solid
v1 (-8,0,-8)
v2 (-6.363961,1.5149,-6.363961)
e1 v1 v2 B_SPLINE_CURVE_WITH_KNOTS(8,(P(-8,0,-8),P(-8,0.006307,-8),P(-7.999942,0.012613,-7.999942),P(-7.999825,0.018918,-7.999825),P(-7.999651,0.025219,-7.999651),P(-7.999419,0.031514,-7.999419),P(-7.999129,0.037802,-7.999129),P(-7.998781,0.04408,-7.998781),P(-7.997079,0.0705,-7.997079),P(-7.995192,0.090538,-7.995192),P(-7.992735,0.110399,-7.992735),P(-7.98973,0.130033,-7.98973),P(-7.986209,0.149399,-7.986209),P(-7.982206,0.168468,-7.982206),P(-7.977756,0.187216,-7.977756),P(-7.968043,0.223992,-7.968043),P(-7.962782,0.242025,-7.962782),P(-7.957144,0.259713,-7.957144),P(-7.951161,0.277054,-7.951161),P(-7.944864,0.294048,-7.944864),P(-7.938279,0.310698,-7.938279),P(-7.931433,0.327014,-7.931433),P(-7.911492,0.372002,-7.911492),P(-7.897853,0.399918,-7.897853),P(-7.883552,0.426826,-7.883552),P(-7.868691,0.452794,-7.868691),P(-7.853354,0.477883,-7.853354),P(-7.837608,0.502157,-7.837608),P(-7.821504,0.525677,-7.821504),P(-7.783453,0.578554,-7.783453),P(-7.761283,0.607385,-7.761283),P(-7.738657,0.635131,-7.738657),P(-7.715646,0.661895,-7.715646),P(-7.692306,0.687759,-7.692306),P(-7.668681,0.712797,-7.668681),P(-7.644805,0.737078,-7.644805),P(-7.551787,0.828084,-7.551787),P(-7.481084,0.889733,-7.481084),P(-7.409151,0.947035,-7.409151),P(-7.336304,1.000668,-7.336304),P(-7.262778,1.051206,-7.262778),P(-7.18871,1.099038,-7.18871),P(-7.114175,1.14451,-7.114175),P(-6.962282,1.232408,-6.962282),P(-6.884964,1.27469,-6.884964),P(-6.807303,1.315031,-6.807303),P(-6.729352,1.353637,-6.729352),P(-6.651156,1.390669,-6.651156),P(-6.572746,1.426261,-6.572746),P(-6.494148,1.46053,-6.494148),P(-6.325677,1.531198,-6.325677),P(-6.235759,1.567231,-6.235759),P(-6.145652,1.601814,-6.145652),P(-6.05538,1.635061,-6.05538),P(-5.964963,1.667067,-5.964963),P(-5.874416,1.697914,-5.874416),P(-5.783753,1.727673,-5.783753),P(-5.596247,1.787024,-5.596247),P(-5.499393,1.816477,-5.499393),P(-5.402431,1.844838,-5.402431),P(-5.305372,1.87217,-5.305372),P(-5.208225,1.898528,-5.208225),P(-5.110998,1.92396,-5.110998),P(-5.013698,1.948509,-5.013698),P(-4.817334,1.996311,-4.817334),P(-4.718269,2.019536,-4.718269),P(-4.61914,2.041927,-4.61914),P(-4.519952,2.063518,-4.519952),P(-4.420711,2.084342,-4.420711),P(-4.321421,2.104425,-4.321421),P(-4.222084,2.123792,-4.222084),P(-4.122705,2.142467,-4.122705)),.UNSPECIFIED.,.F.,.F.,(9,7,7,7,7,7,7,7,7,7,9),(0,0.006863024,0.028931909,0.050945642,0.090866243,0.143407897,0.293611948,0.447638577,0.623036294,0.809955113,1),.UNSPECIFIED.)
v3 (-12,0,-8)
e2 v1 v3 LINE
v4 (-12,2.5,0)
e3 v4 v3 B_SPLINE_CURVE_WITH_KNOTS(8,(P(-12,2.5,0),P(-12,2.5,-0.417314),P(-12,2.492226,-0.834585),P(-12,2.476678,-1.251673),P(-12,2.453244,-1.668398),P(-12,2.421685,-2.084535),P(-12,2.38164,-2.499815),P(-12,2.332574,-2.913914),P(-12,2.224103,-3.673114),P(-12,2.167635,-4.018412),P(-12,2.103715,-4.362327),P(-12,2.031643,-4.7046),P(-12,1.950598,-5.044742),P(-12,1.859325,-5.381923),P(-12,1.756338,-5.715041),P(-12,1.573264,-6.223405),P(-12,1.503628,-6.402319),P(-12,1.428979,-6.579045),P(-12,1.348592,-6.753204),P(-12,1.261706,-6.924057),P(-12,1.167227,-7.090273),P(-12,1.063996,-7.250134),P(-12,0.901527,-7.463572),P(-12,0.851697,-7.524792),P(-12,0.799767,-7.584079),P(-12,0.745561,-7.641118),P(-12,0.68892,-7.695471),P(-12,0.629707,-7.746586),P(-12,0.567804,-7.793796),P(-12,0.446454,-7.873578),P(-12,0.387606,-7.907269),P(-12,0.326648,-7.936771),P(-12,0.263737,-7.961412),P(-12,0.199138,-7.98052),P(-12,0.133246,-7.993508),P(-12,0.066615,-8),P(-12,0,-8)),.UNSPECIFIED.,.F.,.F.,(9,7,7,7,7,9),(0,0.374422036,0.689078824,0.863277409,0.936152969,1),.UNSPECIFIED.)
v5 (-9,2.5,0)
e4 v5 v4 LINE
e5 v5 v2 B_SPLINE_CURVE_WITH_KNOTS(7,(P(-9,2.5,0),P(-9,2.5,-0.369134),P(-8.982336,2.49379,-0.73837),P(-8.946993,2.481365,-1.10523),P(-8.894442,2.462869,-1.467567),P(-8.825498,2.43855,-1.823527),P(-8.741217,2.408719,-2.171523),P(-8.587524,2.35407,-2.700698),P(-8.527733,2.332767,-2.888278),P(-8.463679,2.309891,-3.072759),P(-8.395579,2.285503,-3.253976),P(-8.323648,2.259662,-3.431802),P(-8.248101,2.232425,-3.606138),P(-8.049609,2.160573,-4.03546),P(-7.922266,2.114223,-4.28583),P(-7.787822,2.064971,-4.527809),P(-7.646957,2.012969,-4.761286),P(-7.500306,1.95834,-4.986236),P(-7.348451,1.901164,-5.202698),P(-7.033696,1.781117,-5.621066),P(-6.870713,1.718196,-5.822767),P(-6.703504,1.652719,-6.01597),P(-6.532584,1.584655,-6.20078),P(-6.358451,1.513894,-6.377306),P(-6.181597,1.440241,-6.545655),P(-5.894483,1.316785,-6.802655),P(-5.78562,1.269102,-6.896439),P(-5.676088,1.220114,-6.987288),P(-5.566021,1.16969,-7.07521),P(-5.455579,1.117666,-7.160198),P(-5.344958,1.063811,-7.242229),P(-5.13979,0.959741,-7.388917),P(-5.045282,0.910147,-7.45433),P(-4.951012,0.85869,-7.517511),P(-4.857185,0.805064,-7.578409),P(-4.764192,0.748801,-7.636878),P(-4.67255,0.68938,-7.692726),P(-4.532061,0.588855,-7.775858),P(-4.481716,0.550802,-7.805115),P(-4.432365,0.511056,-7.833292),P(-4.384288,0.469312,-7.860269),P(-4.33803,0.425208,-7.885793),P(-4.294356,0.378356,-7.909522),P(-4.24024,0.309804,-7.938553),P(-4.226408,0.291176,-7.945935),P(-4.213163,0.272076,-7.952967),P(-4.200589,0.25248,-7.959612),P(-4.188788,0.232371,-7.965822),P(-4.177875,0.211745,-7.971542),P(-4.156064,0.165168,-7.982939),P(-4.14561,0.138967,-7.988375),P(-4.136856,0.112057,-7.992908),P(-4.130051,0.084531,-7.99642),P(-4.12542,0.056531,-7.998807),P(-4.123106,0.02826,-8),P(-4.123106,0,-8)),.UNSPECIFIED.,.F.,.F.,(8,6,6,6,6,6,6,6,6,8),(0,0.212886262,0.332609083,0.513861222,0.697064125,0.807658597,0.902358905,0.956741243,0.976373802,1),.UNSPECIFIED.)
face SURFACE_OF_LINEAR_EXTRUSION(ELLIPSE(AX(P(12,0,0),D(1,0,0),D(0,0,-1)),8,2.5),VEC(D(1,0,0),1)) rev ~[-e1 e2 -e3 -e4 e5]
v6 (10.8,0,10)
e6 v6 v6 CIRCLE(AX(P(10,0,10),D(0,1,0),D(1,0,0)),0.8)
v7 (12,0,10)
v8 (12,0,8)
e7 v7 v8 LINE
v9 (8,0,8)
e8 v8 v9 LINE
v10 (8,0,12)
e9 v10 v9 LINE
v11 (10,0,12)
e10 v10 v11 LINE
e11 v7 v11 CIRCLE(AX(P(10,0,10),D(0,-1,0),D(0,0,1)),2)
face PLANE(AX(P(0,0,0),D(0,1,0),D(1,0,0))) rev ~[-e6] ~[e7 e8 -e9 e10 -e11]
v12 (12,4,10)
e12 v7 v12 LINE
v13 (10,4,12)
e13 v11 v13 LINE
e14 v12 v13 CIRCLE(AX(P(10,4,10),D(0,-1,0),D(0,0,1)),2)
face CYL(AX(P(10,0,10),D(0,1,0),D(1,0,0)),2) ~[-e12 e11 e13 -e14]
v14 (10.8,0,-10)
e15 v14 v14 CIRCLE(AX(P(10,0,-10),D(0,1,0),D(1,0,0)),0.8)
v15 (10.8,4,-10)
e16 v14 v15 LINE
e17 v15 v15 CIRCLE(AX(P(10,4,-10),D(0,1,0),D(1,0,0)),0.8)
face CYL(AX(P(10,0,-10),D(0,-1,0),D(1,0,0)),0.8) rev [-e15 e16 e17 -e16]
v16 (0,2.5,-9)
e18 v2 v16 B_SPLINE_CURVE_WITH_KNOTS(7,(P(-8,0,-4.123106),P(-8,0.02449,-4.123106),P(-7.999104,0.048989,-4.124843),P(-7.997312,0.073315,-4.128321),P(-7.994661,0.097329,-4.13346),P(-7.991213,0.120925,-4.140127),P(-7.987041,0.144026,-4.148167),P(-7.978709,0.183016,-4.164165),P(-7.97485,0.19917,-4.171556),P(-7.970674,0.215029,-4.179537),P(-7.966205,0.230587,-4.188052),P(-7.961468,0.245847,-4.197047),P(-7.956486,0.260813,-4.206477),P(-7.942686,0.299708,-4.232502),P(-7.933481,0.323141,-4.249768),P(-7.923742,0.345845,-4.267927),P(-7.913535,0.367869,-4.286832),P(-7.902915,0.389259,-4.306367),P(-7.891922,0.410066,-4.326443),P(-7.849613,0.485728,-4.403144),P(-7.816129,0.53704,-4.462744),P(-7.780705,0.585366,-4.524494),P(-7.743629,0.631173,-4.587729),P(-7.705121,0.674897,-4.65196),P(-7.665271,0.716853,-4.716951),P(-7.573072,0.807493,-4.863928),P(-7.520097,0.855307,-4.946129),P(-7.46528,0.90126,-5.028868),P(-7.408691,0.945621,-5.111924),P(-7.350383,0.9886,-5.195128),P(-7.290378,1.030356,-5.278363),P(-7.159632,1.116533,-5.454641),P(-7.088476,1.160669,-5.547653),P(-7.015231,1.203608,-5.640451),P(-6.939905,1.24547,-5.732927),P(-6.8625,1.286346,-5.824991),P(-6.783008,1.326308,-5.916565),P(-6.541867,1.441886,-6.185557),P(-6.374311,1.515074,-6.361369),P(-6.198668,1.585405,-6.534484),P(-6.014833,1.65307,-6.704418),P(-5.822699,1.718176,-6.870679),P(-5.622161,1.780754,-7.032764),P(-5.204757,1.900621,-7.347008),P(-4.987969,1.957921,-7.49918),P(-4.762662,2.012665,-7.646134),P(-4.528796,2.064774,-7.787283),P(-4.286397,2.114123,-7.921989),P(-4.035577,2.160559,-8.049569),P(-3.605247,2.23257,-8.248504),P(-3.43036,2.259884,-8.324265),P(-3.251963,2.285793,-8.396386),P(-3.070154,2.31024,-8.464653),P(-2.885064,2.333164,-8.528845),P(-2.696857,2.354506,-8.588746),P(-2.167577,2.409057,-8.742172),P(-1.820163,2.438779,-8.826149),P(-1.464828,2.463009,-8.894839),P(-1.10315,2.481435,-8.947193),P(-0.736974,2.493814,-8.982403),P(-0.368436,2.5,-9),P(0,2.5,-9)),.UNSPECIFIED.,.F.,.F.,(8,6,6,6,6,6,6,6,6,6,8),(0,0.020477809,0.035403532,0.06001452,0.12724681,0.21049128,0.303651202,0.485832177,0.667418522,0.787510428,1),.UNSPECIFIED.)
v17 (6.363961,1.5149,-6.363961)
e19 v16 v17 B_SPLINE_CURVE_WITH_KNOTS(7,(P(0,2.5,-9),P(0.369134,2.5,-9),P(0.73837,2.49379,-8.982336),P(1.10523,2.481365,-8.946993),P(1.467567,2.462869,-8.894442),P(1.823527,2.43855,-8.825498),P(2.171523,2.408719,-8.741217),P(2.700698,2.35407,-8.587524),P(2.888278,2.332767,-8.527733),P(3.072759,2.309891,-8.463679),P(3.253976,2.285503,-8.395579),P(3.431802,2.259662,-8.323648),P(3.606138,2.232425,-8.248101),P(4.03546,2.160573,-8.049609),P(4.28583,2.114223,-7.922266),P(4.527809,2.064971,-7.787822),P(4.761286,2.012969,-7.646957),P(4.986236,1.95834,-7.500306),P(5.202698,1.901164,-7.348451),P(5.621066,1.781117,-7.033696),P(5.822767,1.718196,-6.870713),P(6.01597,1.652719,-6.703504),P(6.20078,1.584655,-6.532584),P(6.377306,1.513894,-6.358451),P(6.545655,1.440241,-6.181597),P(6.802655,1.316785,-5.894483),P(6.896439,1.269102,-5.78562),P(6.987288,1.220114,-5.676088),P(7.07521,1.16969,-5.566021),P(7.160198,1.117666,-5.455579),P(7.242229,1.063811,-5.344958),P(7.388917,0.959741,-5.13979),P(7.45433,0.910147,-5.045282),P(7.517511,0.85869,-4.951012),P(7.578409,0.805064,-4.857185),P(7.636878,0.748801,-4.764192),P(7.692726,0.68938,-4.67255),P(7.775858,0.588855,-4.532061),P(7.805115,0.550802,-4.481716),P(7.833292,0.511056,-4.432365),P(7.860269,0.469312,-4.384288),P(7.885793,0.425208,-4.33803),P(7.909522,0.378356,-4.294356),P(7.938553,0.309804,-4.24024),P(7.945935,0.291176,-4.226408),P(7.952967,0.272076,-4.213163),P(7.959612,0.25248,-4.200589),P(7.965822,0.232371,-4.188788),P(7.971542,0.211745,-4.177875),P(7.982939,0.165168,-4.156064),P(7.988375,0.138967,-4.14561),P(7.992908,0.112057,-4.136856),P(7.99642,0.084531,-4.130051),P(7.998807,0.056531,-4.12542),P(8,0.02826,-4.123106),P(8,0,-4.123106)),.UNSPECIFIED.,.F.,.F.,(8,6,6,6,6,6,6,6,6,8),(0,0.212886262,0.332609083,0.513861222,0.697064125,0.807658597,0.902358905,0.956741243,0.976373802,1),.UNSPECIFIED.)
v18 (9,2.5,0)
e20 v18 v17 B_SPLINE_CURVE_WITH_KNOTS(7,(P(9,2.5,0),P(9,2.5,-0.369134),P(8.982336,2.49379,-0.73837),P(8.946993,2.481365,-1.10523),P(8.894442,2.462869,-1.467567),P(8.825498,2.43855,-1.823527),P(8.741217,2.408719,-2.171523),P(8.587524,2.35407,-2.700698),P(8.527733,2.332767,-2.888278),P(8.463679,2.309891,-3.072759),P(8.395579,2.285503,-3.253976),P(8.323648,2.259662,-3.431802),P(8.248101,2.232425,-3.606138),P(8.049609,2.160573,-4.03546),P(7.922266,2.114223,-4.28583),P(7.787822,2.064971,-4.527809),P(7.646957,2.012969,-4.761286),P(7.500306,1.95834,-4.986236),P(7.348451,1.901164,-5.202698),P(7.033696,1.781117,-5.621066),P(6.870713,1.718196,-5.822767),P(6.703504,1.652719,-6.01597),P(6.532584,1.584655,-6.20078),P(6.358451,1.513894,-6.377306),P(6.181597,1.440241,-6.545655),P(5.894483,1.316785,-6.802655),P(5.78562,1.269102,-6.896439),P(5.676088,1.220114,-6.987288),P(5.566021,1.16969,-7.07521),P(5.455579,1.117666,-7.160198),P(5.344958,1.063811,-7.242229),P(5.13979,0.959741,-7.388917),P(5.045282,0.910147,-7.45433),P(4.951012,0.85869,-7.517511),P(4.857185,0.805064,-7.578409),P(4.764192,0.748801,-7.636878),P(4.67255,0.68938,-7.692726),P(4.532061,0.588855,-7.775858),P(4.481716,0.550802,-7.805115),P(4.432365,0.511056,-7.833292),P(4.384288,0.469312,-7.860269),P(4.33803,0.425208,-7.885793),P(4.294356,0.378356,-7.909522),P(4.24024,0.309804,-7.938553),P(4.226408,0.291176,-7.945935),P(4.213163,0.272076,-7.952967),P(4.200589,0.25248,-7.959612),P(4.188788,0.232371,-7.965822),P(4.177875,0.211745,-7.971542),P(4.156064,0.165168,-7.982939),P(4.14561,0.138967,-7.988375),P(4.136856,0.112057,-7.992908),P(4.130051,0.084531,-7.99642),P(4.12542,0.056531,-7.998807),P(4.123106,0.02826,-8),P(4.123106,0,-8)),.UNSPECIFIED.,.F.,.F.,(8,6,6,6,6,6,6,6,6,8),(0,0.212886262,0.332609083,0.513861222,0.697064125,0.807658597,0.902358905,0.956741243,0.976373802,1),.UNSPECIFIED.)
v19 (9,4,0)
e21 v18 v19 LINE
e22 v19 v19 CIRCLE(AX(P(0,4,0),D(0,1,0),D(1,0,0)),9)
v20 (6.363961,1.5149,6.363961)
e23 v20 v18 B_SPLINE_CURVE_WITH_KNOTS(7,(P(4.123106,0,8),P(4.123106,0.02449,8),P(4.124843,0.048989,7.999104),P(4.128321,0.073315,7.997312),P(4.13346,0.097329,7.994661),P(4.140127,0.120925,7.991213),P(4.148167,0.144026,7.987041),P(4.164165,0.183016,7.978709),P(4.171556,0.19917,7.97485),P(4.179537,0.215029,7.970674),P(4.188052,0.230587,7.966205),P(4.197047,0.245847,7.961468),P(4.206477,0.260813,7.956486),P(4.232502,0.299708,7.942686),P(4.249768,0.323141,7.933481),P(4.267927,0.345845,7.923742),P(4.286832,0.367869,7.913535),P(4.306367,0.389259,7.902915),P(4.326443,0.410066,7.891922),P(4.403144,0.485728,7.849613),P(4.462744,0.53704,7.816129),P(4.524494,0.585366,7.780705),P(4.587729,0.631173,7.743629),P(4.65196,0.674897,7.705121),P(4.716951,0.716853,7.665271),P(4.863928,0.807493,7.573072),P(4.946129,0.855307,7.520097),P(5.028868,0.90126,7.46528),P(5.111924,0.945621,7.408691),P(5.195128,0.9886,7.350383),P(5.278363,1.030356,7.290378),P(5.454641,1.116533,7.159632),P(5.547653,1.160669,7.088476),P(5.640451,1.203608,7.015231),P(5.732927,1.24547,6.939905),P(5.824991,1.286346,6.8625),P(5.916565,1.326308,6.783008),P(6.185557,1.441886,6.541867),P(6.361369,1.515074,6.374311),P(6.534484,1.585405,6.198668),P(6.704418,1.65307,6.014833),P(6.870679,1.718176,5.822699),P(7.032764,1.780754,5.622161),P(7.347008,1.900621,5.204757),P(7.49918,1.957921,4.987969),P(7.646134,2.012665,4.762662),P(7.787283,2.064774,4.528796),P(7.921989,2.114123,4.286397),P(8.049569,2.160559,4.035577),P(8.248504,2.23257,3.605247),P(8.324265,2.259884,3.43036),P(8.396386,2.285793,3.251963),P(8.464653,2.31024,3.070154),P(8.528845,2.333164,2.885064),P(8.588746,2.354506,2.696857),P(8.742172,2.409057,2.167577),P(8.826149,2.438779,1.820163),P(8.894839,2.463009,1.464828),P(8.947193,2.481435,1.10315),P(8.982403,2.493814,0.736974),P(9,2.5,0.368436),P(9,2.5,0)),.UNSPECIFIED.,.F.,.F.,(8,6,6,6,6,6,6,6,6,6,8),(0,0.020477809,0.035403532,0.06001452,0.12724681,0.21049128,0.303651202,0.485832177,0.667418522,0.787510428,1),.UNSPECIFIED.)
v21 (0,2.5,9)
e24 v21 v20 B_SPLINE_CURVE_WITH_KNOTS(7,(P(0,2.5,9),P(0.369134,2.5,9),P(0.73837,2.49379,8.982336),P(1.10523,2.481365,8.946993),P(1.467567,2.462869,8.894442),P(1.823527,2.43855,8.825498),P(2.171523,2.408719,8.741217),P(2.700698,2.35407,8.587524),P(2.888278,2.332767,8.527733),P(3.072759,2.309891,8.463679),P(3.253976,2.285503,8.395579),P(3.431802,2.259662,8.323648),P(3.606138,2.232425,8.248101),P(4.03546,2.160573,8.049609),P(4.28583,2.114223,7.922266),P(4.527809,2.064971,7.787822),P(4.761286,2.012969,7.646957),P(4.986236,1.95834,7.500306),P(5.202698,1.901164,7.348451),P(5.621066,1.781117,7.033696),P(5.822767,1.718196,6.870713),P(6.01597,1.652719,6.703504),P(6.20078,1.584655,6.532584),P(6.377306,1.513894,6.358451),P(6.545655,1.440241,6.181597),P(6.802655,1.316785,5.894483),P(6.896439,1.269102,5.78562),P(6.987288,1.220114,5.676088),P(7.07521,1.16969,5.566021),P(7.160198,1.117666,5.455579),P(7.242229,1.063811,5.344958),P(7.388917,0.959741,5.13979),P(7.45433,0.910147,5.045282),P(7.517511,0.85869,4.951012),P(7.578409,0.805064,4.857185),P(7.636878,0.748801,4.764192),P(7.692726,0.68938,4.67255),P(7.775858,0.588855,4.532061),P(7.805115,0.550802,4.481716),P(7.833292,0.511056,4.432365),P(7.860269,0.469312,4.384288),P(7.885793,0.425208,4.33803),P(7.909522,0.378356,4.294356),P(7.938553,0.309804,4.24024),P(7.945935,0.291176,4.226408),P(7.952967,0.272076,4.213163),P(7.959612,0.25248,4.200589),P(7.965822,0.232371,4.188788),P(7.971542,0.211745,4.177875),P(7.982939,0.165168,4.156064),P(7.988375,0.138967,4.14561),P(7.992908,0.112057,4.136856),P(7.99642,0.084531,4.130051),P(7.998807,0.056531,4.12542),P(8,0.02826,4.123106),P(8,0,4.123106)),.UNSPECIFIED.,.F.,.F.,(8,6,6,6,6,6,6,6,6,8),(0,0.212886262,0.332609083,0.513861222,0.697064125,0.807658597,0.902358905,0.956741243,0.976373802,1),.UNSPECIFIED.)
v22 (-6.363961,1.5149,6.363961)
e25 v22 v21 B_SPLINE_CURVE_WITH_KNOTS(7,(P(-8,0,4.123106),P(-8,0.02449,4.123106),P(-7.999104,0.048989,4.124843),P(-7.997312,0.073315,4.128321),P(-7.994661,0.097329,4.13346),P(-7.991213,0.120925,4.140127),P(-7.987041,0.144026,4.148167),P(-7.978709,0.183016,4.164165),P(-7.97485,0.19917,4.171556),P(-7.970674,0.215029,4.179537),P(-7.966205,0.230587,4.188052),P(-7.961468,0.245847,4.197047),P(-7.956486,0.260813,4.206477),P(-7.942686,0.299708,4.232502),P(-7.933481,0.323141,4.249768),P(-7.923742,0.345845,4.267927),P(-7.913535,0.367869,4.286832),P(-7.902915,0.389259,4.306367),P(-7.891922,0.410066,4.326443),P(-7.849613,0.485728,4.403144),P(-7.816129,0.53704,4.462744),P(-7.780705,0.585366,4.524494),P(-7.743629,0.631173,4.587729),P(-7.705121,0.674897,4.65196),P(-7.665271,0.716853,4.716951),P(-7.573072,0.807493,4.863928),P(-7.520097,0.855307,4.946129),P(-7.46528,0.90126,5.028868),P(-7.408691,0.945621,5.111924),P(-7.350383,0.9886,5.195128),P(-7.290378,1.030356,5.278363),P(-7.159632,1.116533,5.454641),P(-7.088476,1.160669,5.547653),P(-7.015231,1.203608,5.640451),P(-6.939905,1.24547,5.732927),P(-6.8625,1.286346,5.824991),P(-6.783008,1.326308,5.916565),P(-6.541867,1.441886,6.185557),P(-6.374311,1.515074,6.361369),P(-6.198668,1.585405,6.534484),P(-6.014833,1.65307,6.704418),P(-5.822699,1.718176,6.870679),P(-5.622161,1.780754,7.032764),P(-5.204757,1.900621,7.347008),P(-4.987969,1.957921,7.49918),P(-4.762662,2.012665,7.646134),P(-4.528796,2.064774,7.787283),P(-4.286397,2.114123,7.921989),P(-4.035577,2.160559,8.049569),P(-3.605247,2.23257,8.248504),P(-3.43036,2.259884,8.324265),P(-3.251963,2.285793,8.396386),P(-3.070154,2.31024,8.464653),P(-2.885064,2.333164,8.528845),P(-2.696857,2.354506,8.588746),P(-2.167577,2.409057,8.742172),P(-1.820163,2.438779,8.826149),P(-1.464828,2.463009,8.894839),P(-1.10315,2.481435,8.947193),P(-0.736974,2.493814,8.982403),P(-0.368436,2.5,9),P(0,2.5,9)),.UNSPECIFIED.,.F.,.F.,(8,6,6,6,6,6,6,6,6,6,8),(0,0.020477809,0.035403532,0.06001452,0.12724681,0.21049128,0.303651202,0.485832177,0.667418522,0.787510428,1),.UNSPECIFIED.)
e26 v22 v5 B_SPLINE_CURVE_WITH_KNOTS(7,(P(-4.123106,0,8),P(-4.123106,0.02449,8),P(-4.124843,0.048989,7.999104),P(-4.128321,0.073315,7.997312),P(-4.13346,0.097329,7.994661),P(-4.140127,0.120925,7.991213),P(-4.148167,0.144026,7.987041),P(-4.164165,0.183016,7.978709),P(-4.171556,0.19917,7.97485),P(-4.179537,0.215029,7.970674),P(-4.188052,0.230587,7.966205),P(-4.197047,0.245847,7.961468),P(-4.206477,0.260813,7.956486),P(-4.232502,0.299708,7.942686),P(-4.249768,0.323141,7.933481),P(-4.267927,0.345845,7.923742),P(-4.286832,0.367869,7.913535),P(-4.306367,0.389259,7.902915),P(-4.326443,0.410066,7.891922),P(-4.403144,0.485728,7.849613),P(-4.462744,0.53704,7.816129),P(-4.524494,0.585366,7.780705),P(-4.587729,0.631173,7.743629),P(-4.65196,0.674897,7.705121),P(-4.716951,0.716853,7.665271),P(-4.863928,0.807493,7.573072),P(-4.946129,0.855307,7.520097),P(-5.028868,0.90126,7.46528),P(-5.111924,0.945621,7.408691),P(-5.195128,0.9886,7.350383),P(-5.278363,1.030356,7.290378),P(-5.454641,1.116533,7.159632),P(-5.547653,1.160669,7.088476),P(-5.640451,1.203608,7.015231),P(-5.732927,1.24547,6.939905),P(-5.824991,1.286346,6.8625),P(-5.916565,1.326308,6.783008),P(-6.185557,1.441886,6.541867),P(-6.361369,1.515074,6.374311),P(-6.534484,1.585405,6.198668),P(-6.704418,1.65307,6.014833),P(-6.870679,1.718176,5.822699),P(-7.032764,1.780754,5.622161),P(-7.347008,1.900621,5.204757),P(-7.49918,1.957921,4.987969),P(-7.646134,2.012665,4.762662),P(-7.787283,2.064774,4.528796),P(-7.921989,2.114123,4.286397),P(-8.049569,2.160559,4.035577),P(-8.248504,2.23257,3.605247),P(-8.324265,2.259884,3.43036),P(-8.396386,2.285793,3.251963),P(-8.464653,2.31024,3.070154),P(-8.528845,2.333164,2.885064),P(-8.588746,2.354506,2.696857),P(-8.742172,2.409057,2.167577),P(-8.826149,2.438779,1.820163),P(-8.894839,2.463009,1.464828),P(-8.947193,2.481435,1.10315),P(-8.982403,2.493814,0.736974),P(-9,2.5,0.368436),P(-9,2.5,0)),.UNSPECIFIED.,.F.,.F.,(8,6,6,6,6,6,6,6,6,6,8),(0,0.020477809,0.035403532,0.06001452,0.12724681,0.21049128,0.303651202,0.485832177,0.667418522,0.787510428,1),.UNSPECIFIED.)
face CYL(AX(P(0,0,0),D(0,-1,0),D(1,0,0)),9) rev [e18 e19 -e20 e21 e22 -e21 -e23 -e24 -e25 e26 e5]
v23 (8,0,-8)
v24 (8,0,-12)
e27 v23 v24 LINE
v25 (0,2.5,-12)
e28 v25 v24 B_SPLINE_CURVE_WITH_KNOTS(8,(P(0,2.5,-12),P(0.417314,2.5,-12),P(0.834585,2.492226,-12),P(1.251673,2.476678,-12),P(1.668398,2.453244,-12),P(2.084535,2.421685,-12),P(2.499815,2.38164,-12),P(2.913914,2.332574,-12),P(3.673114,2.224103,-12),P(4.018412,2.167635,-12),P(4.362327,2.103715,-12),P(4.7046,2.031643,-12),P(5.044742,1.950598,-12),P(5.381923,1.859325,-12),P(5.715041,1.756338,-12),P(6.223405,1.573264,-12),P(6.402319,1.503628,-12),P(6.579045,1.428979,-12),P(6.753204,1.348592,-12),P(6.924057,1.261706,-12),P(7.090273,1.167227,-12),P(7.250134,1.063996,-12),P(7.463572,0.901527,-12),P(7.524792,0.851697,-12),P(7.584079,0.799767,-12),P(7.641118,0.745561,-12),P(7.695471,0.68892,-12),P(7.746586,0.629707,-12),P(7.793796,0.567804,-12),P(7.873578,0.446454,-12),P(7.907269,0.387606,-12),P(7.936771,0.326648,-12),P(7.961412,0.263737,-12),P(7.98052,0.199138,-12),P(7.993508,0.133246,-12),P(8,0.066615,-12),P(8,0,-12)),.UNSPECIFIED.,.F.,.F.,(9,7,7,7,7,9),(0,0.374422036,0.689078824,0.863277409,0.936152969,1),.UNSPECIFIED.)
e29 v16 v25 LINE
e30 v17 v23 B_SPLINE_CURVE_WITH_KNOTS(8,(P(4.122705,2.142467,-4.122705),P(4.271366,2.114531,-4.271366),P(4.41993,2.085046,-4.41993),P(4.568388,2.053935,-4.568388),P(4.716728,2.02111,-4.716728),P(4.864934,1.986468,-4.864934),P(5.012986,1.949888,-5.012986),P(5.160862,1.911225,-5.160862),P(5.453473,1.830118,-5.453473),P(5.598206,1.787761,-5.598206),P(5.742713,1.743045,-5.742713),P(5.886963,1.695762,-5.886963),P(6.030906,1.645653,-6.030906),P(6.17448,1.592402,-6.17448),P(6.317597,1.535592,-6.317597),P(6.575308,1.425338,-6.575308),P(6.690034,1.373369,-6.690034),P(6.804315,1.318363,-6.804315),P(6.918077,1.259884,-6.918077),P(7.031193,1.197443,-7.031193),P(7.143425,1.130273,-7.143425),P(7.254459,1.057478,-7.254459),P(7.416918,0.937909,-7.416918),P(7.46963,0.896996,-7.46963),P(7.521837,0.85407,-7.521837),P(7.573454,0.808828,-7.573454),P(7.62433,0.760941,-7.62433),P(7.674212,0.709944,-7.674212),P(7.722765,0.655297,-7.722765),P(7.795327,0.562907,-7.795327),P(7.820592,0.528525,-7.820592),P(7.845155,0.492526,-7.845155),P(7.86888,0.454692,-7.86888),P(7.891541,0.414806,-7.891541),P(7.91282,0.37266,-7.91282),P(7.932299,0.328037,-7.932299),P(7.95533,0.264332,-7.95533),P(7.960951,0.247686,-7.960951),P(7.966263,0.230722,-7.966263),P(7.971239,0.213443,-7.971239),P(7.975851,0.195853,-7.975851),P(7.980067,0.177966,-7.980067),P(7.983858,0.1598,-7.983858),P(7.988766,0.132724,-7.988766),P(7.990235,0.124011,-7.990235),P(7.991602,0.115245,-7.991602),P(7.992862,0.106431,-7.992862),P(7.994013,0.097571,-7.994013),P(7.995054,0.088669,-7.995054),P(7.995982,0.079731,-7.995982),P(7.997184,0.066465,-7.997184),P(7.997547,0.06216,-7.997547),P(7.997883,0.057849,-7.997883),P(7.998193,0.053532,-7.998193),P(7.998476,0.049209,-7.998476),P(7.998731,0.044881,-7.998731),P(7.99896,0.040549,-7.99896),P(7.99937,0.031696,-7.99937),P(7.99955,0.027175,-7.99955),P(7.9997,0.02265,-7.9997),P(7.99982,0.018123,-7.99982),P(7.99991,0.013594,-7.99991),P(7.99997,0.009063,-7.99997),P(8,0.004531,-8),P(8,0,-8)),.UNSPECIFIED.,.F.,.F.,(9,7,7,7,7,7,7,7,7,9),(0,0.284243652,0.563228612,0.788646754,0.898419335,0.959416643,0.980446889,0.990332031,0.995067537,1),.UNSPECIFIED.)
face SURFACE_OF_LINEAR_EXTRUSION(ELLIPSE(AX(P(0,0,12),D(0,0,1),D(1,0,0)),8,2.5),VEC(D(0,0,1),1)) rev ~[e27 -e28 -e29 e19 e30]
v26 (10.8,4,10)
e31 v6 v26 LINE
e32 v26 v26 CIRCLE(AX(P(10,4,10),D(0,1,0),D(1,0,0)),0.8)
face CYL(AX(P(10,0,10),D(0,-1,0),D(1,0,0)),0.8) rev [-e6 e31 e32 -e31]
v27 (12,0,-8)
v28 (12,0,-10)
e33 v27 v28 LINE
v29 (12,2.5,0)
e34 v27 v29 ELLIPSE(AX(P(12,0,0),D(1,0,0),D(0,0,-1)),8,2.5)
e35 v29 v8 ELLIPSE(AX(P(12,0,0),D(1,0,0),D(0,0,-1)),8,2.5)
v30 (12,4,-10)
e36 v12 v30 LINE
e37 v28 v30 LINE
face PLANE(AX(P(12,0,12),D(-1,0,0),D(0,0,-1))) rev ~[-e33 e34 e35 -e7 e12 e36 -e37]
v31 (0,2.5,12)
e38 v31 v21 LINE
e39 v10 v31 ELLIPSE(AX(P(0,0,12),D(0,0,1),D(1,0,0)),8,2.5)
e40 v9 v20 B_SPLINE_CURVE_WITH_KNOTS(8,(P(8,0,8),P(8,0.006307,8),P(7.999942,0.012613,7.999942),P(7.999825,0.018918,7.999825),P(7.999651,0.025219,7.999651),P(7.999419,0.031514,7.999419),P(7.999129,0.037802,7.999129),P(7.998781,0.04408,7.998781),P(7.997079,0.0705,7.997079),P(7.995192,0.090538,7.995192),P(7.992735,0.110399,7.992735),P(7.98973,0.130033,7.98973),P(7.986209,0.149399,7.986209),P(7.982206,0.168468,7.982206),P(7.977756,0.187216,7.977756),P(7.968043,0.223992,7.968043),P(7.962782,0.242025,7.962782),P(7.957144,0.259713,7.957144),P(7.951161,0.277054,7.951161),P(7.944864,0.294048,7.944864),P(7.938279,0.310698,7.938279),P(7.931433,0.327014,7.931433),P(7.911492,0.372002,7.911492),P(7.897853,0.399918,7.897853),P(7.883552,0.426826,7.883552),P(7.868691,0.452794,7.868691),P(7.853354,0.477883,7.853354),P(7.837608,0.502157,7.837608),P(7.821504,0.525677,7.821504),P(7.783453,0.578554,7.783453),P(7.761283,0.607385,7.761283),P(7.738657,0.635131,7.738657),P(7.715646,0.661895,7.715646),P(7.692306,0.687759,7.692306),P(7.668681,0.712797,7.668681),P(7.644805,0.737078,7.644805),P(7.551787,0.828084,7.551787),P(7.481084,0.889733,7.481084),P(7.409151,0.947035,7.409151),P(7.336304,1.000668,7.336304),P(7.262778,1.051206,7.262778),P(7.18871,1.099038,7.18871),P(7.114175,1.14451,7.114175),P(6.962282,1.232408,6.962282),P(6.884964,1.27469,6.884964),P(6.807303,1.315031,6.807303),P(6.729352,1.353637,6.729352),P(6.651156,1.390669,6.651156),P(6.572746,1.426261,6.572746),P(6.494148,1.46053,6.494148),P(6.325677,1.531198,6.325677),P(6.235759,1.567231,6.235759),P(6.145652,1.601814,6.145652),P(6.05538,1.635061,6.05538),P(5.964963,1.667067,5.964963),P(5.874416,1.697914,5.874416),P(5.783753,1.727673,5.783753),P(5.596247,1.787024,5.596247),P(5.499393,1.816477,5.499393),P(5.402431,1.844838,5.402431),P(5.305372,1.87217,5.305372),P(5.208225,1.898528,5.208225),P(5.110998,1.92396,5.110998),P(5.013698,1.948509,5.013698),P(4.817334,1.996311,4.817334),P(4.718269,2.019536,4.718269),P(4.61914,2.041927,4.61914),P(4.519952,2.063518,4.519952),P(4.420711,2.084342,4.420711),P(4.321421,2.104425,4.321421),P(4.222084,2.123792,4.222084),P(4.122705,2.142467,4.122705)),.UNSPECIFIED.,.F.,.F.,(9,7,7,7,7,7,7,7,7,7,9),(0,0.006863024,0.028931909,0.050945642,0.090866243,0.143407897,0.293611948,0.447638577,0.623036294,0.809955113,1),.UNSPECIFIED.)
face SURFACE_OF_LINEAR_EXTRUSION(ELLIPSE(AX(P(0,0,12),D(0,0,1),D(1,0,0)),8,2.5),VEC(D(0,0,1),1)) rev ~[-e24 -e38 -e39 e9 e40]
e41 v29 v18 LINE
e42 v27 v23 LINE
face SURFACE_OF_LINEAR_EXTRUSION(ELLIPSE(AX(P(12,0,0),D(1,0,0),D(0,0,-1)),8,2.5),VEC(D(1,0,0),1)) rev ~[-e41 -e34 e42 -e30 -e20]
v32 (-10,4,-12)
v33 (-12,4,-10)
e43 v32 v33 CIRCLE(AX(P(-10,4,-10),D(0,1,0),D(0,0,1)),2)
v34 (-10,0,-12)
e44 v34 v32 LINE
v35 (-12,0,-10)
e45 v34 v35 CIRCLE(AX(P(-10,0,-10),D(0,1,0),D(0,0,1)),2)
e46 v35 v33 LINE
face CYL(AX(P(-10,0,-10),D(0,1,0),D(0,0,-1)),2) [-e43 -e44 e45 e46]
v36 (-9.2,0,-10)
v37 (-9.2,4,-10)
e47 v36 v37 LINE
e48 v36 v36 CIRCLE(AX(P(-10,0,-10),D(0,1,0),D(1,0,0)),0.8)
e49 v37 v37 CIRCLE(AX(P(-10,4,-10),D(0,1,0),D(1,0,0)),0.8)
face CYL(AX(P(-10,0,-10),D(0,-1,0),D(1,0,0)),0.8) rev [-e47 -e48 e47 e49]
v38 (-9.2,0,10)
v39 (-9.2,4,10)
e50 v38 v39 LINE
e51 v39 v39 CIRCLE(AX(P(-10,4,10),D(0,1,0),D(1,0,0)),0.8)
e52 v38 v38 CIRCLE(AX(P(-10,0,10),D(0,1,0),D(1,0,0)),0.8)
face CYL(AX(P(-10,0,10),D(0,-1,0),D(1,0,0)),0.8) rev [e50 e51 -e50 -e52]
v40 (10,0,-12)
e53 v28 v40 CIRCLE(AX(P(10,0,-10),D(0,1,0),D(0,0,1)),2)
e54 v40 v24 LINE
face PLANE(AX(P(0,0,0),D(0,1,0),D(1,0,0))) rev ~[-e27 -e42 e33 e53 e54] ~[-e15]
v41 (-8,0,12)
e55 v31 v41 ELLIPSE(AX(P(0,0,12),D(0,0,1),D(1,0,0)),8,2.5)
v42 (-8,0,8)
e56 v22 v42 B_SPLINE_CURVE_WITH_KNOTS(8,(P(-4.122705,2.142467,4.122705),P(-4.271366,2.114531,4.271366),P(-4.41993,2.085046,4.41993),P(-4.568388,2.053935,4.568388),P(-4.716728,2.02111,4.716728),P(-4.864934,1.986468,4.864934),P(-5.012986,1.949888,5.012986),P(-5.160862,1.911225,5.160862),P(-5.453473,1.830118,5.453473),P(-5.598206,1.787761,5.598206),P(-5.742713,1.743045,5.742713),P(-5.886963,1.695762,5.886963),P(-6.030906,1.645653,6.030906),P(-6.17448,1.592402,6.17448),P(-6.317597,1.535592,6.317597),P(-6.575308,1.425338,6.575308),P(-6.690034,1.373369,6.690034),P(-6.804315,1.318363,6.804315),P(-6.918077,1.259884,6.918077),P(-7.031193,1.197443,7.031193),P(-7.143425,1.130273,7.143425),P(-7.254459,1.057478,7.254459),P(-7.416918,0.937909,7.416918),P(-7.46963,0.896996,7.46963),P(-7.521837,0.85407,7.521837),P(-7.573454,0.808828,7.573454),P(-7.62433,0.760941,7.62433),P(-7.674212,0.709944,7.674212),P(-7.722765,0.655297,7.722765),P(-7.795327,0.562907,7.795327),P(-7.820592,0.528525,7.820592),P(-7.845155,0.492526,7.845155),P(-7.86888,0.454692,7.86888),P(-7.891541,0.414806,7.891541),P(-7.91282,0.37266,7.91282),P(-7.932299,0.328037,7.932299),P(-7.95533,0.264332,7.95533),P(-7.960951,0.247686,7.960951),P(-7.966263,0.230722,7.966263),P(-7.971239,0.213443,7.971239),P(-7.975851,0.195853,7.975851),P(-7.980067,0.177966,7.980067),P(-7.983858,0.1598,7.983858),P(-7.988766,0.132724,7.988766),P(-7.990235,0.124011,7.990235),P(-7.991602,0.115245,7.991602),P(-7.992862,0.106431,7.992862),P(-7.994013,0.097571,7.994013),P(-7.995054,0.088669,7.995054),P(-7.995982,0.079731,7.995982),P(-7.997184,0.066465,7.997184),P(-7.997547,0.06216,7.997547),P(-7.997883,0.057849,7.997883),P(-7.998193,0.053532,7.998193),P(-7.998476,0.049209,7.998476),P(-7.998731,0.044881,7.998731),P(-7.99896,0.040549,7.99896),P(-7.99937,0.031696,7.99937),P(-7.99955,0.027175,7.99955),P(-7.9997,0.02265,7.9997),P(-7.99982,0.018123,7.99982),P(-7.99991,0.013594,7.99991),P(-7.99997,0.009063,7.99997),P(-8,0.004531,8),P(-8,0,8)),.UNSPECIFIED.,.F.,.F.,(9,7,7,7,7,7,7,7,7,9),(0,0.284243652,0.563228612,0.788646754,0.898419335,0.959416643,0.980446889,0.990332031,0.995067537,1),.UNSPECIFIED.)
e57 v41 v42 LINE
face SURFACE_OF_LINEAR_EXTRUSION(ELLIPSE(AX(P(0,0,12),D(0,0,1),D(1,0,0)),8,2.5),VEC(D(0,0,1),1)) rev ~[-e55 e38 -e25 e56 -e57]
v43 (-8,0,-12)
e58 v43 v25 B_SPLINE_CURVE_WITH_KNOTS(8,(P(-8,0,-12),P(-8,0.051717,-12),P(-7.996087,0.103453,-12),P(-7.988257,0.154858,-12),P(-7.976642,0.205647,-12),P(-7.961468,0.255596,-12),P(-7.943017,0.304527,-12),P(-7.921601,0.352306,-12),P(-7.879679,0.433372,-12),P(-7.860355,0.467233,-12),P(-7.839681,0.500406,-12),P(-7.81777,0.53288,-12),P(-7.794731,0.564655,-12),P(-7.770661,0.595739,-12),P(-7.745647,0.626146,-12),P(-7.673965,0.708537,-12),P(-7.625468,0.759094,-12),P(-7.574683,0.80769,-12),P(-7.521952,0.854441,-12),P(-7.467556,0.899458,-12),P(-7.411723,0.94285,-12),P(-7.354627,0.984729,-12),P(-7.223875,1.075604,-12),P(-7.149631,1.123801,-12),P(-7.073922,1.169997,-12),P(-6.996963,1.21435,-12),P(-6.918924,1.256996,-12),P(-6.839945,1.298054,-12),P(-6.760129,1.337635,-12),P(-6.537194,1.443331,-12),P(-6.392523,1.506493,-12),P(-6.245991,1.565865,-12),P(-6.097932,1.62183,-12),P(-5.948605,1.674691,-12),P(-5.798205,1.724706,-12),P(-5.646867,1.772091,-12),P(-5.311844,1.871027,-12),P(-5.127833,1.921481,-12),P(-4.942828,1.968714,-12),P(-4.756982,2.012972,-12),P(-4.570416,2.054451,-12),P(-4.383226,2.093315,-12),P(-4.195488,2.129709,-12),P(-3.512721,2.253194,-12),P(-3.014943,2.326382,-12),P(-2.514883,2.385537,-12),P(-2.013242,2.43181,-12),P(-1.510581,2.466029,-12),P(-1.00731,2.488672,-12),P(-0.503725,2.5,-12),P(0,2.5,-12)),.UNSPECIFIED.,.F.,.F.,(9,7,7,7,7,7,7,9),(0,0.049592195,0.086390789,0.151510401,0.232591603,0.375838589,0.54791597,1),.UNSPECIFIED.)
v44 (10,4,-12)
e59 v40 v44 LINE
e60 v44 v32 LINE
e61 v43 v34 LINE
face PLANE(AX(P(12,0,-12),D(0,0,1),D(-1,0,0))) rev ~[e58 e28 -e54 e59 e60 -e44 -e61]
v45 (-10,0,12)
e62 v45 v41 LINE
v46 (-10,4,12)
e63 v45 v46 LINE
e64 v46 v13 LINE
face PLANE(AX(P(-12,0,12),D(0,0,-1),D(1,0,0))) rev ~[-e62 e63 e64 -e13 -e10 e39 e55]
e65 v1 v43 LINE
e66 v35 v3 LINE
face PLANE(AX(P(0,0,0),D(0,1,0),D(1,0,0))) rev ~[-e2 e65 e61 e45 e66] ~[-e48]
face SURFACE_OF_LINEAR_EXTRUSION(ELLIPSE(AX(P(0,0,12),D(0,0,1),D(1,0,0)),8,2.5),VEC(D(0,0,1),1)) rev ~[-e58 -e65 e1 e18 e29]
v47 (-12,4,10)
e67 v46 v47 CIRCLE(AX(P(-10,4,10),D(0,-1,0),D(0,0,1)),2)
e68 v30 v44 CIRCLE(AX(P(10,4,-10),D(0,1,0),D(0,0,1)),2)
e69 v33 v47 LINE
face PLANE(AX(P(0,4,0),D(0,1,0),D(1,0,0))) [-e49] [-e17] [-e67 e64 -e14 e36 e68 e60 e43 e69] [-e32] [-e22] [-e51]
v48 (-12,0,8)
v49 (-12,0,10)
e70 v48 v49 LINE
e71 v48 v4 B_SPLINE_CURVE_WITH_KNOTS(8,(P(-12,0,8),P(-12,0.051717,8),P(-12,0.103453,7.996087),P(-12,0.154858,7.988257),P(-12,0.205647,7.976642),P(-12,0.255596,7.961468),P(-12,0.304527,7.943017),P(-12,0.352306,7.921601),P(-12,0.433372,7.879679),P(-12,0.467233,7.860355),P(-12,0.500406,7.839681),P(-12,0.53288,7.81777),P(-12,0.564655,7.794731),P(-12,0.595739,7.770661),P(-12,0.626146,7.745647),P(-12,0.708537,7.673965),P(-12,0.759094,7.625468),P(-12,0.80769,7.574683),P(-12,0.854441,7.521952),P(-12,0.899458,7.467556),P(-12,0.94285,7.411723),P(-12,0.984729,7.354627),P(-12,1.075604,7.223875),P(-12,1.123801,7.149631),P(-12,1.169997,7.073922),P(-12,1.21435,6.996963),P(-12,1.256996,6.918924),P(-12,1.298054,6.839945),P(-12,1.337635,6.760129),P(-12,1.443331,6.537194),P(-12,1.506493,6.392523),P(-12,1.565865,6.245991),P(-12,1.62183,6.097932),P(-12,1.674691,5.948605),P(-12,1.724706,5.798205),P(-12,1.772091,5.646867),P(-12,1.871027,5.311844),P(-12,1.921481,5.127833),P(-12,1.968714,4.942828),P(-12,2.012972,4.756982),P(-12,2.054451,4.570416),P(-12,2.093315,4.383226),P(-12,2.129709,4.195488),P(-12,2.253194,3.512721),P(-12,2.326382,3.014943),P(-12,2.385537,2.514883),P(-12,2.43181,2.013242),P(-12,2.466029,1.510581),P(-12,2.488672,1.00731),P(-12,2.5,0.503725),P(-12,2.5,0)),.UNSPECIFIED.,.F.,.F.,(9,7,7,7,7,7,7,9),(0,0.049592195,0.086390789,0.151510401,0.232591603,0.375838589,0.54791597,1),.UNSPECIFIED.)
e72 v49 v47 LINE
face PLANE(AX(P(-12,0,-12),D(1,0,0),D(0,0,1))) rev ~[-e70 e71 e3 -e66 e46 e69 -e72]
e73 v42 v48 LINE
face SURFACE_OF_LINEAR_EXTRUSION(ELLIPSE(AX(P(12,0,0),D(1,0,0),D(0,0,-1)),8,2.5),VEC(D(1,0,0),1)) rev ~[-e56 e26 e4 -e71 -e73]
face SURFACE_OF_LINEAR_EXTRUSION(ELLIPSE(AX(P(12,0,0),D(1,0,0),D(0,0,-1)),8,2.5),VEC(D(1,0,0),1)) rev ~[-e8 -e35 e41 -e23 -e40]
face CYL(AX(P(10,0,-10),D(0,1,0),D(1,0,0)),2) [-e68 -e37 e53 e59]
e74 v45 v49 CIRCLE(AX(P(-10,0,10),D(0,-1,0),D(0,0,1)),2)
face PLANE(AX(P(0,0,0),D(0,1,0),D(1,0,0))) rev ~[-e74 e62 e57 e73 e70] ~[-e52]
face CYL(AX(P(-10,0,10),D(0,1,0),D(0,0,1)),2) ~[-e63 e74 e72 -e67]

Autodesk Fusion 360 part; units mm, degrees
sketch "Skizze1" plane through (0, 0, 0) normal (0, 1, 0) x (1, 0, 0)
  line L0 (10, 10) -> (-10, 10) construction
  line L1 (-10, 10) -> (-10, -10) construction
  line L2 (-10, -10) -> (10, -10) construction
  line L3 (10, -10) -> (10, 10) construction
  line L4 (10, 10) -> (-10, -10) construction
  line L5 (-10, 10) -> (10, -10) construction
  circle A0 centre (-10, 10) radius 0.8
  circle A1 centre (10, 10) radius 0.8
  circle A2 centre (10, -10) radius 0.8
  circle A3 centre (-10, -10) radius 0.8
  line L6 (12, 12) -> (-12, 12)
  line L7 (-12, 12) -> (-12, -12)
  line L8 (-12, -12) -> (12, -12)
  line L9 (12, -12) -> (12, 12)
  line L10 (12, 12) -> (-12, -12) construction
  line L11 (-12, 12) -> (12, -12) construction
  circle A4 centre (0, 0) radius 9
  dimension "d1" = 20
  dimension "d2" = 20
  dimension "d3" = 1.6
  dimension "d4" = 24
  dimension "d16" = 18
extrude "Extrusion1" add sketch "Skizze1" along normal blind 4
sketch "Skizze2" plane through (0, 0, 12) normal (0, 0, 1) x (1, 0, 0)
  line L0 (-12, 0) -> (12, 0)
  line L1 (12, 4) -> (-12, 4)
  line L2 (-12, 4) -> (-12, 0)
  ellipse E0 centre (0, 0) end of major axis (8, 0) minor radius 2.5
  line L3 (-8, 0) -> (8, 0)
  line L4 (0, -2.5) -> (0, 2.5)
  dimension "d8" = 16
  dimension "d9" = 5
extrude "Extrusion2" cut sketch "Skizze2" against normal blind 27 contours L0 E0 L3 L4 | L0 E0 L3 L4 picked at (-4.5024, 0.6044) picked at (4.5261, 0.5973)
sketch "Skizze3" plane through (12, 0, 0) normal (1, 0, 0) x (0, 0, -1)
  line L0 (-12, 0) -> (12, 0)
  line L1 (12, 0) -> (12, 4)
  line L2 (12, 4) -> (-12, 4)
  line L3 (-12, 4) -> (-12, 0)
  ellipse E0 centre (0, 0) end of major axis (8, 0) minor radius 2.5
  line L4 (-8, 0) -> (8, 0)
  line L5 (0, -2.5) -> (0, 2.5)
  dimension "d12" = 5
  dimension "d13" = 16
extrude "Extrusion3" cut sketch "Skizze3" against normal blind 27 contours L0 E0 L4 L5 | L0 E0 L4 L5 picked at (-4.5024, 0.6044) picked at (4.5261, 0.5973)
fillet "Abrundung1" radius 2 4 edges at (12, 2, -12) (-12, 2, 12) (-12, 2, -12) (12, 2, 12)
equation "d1 = d2"
